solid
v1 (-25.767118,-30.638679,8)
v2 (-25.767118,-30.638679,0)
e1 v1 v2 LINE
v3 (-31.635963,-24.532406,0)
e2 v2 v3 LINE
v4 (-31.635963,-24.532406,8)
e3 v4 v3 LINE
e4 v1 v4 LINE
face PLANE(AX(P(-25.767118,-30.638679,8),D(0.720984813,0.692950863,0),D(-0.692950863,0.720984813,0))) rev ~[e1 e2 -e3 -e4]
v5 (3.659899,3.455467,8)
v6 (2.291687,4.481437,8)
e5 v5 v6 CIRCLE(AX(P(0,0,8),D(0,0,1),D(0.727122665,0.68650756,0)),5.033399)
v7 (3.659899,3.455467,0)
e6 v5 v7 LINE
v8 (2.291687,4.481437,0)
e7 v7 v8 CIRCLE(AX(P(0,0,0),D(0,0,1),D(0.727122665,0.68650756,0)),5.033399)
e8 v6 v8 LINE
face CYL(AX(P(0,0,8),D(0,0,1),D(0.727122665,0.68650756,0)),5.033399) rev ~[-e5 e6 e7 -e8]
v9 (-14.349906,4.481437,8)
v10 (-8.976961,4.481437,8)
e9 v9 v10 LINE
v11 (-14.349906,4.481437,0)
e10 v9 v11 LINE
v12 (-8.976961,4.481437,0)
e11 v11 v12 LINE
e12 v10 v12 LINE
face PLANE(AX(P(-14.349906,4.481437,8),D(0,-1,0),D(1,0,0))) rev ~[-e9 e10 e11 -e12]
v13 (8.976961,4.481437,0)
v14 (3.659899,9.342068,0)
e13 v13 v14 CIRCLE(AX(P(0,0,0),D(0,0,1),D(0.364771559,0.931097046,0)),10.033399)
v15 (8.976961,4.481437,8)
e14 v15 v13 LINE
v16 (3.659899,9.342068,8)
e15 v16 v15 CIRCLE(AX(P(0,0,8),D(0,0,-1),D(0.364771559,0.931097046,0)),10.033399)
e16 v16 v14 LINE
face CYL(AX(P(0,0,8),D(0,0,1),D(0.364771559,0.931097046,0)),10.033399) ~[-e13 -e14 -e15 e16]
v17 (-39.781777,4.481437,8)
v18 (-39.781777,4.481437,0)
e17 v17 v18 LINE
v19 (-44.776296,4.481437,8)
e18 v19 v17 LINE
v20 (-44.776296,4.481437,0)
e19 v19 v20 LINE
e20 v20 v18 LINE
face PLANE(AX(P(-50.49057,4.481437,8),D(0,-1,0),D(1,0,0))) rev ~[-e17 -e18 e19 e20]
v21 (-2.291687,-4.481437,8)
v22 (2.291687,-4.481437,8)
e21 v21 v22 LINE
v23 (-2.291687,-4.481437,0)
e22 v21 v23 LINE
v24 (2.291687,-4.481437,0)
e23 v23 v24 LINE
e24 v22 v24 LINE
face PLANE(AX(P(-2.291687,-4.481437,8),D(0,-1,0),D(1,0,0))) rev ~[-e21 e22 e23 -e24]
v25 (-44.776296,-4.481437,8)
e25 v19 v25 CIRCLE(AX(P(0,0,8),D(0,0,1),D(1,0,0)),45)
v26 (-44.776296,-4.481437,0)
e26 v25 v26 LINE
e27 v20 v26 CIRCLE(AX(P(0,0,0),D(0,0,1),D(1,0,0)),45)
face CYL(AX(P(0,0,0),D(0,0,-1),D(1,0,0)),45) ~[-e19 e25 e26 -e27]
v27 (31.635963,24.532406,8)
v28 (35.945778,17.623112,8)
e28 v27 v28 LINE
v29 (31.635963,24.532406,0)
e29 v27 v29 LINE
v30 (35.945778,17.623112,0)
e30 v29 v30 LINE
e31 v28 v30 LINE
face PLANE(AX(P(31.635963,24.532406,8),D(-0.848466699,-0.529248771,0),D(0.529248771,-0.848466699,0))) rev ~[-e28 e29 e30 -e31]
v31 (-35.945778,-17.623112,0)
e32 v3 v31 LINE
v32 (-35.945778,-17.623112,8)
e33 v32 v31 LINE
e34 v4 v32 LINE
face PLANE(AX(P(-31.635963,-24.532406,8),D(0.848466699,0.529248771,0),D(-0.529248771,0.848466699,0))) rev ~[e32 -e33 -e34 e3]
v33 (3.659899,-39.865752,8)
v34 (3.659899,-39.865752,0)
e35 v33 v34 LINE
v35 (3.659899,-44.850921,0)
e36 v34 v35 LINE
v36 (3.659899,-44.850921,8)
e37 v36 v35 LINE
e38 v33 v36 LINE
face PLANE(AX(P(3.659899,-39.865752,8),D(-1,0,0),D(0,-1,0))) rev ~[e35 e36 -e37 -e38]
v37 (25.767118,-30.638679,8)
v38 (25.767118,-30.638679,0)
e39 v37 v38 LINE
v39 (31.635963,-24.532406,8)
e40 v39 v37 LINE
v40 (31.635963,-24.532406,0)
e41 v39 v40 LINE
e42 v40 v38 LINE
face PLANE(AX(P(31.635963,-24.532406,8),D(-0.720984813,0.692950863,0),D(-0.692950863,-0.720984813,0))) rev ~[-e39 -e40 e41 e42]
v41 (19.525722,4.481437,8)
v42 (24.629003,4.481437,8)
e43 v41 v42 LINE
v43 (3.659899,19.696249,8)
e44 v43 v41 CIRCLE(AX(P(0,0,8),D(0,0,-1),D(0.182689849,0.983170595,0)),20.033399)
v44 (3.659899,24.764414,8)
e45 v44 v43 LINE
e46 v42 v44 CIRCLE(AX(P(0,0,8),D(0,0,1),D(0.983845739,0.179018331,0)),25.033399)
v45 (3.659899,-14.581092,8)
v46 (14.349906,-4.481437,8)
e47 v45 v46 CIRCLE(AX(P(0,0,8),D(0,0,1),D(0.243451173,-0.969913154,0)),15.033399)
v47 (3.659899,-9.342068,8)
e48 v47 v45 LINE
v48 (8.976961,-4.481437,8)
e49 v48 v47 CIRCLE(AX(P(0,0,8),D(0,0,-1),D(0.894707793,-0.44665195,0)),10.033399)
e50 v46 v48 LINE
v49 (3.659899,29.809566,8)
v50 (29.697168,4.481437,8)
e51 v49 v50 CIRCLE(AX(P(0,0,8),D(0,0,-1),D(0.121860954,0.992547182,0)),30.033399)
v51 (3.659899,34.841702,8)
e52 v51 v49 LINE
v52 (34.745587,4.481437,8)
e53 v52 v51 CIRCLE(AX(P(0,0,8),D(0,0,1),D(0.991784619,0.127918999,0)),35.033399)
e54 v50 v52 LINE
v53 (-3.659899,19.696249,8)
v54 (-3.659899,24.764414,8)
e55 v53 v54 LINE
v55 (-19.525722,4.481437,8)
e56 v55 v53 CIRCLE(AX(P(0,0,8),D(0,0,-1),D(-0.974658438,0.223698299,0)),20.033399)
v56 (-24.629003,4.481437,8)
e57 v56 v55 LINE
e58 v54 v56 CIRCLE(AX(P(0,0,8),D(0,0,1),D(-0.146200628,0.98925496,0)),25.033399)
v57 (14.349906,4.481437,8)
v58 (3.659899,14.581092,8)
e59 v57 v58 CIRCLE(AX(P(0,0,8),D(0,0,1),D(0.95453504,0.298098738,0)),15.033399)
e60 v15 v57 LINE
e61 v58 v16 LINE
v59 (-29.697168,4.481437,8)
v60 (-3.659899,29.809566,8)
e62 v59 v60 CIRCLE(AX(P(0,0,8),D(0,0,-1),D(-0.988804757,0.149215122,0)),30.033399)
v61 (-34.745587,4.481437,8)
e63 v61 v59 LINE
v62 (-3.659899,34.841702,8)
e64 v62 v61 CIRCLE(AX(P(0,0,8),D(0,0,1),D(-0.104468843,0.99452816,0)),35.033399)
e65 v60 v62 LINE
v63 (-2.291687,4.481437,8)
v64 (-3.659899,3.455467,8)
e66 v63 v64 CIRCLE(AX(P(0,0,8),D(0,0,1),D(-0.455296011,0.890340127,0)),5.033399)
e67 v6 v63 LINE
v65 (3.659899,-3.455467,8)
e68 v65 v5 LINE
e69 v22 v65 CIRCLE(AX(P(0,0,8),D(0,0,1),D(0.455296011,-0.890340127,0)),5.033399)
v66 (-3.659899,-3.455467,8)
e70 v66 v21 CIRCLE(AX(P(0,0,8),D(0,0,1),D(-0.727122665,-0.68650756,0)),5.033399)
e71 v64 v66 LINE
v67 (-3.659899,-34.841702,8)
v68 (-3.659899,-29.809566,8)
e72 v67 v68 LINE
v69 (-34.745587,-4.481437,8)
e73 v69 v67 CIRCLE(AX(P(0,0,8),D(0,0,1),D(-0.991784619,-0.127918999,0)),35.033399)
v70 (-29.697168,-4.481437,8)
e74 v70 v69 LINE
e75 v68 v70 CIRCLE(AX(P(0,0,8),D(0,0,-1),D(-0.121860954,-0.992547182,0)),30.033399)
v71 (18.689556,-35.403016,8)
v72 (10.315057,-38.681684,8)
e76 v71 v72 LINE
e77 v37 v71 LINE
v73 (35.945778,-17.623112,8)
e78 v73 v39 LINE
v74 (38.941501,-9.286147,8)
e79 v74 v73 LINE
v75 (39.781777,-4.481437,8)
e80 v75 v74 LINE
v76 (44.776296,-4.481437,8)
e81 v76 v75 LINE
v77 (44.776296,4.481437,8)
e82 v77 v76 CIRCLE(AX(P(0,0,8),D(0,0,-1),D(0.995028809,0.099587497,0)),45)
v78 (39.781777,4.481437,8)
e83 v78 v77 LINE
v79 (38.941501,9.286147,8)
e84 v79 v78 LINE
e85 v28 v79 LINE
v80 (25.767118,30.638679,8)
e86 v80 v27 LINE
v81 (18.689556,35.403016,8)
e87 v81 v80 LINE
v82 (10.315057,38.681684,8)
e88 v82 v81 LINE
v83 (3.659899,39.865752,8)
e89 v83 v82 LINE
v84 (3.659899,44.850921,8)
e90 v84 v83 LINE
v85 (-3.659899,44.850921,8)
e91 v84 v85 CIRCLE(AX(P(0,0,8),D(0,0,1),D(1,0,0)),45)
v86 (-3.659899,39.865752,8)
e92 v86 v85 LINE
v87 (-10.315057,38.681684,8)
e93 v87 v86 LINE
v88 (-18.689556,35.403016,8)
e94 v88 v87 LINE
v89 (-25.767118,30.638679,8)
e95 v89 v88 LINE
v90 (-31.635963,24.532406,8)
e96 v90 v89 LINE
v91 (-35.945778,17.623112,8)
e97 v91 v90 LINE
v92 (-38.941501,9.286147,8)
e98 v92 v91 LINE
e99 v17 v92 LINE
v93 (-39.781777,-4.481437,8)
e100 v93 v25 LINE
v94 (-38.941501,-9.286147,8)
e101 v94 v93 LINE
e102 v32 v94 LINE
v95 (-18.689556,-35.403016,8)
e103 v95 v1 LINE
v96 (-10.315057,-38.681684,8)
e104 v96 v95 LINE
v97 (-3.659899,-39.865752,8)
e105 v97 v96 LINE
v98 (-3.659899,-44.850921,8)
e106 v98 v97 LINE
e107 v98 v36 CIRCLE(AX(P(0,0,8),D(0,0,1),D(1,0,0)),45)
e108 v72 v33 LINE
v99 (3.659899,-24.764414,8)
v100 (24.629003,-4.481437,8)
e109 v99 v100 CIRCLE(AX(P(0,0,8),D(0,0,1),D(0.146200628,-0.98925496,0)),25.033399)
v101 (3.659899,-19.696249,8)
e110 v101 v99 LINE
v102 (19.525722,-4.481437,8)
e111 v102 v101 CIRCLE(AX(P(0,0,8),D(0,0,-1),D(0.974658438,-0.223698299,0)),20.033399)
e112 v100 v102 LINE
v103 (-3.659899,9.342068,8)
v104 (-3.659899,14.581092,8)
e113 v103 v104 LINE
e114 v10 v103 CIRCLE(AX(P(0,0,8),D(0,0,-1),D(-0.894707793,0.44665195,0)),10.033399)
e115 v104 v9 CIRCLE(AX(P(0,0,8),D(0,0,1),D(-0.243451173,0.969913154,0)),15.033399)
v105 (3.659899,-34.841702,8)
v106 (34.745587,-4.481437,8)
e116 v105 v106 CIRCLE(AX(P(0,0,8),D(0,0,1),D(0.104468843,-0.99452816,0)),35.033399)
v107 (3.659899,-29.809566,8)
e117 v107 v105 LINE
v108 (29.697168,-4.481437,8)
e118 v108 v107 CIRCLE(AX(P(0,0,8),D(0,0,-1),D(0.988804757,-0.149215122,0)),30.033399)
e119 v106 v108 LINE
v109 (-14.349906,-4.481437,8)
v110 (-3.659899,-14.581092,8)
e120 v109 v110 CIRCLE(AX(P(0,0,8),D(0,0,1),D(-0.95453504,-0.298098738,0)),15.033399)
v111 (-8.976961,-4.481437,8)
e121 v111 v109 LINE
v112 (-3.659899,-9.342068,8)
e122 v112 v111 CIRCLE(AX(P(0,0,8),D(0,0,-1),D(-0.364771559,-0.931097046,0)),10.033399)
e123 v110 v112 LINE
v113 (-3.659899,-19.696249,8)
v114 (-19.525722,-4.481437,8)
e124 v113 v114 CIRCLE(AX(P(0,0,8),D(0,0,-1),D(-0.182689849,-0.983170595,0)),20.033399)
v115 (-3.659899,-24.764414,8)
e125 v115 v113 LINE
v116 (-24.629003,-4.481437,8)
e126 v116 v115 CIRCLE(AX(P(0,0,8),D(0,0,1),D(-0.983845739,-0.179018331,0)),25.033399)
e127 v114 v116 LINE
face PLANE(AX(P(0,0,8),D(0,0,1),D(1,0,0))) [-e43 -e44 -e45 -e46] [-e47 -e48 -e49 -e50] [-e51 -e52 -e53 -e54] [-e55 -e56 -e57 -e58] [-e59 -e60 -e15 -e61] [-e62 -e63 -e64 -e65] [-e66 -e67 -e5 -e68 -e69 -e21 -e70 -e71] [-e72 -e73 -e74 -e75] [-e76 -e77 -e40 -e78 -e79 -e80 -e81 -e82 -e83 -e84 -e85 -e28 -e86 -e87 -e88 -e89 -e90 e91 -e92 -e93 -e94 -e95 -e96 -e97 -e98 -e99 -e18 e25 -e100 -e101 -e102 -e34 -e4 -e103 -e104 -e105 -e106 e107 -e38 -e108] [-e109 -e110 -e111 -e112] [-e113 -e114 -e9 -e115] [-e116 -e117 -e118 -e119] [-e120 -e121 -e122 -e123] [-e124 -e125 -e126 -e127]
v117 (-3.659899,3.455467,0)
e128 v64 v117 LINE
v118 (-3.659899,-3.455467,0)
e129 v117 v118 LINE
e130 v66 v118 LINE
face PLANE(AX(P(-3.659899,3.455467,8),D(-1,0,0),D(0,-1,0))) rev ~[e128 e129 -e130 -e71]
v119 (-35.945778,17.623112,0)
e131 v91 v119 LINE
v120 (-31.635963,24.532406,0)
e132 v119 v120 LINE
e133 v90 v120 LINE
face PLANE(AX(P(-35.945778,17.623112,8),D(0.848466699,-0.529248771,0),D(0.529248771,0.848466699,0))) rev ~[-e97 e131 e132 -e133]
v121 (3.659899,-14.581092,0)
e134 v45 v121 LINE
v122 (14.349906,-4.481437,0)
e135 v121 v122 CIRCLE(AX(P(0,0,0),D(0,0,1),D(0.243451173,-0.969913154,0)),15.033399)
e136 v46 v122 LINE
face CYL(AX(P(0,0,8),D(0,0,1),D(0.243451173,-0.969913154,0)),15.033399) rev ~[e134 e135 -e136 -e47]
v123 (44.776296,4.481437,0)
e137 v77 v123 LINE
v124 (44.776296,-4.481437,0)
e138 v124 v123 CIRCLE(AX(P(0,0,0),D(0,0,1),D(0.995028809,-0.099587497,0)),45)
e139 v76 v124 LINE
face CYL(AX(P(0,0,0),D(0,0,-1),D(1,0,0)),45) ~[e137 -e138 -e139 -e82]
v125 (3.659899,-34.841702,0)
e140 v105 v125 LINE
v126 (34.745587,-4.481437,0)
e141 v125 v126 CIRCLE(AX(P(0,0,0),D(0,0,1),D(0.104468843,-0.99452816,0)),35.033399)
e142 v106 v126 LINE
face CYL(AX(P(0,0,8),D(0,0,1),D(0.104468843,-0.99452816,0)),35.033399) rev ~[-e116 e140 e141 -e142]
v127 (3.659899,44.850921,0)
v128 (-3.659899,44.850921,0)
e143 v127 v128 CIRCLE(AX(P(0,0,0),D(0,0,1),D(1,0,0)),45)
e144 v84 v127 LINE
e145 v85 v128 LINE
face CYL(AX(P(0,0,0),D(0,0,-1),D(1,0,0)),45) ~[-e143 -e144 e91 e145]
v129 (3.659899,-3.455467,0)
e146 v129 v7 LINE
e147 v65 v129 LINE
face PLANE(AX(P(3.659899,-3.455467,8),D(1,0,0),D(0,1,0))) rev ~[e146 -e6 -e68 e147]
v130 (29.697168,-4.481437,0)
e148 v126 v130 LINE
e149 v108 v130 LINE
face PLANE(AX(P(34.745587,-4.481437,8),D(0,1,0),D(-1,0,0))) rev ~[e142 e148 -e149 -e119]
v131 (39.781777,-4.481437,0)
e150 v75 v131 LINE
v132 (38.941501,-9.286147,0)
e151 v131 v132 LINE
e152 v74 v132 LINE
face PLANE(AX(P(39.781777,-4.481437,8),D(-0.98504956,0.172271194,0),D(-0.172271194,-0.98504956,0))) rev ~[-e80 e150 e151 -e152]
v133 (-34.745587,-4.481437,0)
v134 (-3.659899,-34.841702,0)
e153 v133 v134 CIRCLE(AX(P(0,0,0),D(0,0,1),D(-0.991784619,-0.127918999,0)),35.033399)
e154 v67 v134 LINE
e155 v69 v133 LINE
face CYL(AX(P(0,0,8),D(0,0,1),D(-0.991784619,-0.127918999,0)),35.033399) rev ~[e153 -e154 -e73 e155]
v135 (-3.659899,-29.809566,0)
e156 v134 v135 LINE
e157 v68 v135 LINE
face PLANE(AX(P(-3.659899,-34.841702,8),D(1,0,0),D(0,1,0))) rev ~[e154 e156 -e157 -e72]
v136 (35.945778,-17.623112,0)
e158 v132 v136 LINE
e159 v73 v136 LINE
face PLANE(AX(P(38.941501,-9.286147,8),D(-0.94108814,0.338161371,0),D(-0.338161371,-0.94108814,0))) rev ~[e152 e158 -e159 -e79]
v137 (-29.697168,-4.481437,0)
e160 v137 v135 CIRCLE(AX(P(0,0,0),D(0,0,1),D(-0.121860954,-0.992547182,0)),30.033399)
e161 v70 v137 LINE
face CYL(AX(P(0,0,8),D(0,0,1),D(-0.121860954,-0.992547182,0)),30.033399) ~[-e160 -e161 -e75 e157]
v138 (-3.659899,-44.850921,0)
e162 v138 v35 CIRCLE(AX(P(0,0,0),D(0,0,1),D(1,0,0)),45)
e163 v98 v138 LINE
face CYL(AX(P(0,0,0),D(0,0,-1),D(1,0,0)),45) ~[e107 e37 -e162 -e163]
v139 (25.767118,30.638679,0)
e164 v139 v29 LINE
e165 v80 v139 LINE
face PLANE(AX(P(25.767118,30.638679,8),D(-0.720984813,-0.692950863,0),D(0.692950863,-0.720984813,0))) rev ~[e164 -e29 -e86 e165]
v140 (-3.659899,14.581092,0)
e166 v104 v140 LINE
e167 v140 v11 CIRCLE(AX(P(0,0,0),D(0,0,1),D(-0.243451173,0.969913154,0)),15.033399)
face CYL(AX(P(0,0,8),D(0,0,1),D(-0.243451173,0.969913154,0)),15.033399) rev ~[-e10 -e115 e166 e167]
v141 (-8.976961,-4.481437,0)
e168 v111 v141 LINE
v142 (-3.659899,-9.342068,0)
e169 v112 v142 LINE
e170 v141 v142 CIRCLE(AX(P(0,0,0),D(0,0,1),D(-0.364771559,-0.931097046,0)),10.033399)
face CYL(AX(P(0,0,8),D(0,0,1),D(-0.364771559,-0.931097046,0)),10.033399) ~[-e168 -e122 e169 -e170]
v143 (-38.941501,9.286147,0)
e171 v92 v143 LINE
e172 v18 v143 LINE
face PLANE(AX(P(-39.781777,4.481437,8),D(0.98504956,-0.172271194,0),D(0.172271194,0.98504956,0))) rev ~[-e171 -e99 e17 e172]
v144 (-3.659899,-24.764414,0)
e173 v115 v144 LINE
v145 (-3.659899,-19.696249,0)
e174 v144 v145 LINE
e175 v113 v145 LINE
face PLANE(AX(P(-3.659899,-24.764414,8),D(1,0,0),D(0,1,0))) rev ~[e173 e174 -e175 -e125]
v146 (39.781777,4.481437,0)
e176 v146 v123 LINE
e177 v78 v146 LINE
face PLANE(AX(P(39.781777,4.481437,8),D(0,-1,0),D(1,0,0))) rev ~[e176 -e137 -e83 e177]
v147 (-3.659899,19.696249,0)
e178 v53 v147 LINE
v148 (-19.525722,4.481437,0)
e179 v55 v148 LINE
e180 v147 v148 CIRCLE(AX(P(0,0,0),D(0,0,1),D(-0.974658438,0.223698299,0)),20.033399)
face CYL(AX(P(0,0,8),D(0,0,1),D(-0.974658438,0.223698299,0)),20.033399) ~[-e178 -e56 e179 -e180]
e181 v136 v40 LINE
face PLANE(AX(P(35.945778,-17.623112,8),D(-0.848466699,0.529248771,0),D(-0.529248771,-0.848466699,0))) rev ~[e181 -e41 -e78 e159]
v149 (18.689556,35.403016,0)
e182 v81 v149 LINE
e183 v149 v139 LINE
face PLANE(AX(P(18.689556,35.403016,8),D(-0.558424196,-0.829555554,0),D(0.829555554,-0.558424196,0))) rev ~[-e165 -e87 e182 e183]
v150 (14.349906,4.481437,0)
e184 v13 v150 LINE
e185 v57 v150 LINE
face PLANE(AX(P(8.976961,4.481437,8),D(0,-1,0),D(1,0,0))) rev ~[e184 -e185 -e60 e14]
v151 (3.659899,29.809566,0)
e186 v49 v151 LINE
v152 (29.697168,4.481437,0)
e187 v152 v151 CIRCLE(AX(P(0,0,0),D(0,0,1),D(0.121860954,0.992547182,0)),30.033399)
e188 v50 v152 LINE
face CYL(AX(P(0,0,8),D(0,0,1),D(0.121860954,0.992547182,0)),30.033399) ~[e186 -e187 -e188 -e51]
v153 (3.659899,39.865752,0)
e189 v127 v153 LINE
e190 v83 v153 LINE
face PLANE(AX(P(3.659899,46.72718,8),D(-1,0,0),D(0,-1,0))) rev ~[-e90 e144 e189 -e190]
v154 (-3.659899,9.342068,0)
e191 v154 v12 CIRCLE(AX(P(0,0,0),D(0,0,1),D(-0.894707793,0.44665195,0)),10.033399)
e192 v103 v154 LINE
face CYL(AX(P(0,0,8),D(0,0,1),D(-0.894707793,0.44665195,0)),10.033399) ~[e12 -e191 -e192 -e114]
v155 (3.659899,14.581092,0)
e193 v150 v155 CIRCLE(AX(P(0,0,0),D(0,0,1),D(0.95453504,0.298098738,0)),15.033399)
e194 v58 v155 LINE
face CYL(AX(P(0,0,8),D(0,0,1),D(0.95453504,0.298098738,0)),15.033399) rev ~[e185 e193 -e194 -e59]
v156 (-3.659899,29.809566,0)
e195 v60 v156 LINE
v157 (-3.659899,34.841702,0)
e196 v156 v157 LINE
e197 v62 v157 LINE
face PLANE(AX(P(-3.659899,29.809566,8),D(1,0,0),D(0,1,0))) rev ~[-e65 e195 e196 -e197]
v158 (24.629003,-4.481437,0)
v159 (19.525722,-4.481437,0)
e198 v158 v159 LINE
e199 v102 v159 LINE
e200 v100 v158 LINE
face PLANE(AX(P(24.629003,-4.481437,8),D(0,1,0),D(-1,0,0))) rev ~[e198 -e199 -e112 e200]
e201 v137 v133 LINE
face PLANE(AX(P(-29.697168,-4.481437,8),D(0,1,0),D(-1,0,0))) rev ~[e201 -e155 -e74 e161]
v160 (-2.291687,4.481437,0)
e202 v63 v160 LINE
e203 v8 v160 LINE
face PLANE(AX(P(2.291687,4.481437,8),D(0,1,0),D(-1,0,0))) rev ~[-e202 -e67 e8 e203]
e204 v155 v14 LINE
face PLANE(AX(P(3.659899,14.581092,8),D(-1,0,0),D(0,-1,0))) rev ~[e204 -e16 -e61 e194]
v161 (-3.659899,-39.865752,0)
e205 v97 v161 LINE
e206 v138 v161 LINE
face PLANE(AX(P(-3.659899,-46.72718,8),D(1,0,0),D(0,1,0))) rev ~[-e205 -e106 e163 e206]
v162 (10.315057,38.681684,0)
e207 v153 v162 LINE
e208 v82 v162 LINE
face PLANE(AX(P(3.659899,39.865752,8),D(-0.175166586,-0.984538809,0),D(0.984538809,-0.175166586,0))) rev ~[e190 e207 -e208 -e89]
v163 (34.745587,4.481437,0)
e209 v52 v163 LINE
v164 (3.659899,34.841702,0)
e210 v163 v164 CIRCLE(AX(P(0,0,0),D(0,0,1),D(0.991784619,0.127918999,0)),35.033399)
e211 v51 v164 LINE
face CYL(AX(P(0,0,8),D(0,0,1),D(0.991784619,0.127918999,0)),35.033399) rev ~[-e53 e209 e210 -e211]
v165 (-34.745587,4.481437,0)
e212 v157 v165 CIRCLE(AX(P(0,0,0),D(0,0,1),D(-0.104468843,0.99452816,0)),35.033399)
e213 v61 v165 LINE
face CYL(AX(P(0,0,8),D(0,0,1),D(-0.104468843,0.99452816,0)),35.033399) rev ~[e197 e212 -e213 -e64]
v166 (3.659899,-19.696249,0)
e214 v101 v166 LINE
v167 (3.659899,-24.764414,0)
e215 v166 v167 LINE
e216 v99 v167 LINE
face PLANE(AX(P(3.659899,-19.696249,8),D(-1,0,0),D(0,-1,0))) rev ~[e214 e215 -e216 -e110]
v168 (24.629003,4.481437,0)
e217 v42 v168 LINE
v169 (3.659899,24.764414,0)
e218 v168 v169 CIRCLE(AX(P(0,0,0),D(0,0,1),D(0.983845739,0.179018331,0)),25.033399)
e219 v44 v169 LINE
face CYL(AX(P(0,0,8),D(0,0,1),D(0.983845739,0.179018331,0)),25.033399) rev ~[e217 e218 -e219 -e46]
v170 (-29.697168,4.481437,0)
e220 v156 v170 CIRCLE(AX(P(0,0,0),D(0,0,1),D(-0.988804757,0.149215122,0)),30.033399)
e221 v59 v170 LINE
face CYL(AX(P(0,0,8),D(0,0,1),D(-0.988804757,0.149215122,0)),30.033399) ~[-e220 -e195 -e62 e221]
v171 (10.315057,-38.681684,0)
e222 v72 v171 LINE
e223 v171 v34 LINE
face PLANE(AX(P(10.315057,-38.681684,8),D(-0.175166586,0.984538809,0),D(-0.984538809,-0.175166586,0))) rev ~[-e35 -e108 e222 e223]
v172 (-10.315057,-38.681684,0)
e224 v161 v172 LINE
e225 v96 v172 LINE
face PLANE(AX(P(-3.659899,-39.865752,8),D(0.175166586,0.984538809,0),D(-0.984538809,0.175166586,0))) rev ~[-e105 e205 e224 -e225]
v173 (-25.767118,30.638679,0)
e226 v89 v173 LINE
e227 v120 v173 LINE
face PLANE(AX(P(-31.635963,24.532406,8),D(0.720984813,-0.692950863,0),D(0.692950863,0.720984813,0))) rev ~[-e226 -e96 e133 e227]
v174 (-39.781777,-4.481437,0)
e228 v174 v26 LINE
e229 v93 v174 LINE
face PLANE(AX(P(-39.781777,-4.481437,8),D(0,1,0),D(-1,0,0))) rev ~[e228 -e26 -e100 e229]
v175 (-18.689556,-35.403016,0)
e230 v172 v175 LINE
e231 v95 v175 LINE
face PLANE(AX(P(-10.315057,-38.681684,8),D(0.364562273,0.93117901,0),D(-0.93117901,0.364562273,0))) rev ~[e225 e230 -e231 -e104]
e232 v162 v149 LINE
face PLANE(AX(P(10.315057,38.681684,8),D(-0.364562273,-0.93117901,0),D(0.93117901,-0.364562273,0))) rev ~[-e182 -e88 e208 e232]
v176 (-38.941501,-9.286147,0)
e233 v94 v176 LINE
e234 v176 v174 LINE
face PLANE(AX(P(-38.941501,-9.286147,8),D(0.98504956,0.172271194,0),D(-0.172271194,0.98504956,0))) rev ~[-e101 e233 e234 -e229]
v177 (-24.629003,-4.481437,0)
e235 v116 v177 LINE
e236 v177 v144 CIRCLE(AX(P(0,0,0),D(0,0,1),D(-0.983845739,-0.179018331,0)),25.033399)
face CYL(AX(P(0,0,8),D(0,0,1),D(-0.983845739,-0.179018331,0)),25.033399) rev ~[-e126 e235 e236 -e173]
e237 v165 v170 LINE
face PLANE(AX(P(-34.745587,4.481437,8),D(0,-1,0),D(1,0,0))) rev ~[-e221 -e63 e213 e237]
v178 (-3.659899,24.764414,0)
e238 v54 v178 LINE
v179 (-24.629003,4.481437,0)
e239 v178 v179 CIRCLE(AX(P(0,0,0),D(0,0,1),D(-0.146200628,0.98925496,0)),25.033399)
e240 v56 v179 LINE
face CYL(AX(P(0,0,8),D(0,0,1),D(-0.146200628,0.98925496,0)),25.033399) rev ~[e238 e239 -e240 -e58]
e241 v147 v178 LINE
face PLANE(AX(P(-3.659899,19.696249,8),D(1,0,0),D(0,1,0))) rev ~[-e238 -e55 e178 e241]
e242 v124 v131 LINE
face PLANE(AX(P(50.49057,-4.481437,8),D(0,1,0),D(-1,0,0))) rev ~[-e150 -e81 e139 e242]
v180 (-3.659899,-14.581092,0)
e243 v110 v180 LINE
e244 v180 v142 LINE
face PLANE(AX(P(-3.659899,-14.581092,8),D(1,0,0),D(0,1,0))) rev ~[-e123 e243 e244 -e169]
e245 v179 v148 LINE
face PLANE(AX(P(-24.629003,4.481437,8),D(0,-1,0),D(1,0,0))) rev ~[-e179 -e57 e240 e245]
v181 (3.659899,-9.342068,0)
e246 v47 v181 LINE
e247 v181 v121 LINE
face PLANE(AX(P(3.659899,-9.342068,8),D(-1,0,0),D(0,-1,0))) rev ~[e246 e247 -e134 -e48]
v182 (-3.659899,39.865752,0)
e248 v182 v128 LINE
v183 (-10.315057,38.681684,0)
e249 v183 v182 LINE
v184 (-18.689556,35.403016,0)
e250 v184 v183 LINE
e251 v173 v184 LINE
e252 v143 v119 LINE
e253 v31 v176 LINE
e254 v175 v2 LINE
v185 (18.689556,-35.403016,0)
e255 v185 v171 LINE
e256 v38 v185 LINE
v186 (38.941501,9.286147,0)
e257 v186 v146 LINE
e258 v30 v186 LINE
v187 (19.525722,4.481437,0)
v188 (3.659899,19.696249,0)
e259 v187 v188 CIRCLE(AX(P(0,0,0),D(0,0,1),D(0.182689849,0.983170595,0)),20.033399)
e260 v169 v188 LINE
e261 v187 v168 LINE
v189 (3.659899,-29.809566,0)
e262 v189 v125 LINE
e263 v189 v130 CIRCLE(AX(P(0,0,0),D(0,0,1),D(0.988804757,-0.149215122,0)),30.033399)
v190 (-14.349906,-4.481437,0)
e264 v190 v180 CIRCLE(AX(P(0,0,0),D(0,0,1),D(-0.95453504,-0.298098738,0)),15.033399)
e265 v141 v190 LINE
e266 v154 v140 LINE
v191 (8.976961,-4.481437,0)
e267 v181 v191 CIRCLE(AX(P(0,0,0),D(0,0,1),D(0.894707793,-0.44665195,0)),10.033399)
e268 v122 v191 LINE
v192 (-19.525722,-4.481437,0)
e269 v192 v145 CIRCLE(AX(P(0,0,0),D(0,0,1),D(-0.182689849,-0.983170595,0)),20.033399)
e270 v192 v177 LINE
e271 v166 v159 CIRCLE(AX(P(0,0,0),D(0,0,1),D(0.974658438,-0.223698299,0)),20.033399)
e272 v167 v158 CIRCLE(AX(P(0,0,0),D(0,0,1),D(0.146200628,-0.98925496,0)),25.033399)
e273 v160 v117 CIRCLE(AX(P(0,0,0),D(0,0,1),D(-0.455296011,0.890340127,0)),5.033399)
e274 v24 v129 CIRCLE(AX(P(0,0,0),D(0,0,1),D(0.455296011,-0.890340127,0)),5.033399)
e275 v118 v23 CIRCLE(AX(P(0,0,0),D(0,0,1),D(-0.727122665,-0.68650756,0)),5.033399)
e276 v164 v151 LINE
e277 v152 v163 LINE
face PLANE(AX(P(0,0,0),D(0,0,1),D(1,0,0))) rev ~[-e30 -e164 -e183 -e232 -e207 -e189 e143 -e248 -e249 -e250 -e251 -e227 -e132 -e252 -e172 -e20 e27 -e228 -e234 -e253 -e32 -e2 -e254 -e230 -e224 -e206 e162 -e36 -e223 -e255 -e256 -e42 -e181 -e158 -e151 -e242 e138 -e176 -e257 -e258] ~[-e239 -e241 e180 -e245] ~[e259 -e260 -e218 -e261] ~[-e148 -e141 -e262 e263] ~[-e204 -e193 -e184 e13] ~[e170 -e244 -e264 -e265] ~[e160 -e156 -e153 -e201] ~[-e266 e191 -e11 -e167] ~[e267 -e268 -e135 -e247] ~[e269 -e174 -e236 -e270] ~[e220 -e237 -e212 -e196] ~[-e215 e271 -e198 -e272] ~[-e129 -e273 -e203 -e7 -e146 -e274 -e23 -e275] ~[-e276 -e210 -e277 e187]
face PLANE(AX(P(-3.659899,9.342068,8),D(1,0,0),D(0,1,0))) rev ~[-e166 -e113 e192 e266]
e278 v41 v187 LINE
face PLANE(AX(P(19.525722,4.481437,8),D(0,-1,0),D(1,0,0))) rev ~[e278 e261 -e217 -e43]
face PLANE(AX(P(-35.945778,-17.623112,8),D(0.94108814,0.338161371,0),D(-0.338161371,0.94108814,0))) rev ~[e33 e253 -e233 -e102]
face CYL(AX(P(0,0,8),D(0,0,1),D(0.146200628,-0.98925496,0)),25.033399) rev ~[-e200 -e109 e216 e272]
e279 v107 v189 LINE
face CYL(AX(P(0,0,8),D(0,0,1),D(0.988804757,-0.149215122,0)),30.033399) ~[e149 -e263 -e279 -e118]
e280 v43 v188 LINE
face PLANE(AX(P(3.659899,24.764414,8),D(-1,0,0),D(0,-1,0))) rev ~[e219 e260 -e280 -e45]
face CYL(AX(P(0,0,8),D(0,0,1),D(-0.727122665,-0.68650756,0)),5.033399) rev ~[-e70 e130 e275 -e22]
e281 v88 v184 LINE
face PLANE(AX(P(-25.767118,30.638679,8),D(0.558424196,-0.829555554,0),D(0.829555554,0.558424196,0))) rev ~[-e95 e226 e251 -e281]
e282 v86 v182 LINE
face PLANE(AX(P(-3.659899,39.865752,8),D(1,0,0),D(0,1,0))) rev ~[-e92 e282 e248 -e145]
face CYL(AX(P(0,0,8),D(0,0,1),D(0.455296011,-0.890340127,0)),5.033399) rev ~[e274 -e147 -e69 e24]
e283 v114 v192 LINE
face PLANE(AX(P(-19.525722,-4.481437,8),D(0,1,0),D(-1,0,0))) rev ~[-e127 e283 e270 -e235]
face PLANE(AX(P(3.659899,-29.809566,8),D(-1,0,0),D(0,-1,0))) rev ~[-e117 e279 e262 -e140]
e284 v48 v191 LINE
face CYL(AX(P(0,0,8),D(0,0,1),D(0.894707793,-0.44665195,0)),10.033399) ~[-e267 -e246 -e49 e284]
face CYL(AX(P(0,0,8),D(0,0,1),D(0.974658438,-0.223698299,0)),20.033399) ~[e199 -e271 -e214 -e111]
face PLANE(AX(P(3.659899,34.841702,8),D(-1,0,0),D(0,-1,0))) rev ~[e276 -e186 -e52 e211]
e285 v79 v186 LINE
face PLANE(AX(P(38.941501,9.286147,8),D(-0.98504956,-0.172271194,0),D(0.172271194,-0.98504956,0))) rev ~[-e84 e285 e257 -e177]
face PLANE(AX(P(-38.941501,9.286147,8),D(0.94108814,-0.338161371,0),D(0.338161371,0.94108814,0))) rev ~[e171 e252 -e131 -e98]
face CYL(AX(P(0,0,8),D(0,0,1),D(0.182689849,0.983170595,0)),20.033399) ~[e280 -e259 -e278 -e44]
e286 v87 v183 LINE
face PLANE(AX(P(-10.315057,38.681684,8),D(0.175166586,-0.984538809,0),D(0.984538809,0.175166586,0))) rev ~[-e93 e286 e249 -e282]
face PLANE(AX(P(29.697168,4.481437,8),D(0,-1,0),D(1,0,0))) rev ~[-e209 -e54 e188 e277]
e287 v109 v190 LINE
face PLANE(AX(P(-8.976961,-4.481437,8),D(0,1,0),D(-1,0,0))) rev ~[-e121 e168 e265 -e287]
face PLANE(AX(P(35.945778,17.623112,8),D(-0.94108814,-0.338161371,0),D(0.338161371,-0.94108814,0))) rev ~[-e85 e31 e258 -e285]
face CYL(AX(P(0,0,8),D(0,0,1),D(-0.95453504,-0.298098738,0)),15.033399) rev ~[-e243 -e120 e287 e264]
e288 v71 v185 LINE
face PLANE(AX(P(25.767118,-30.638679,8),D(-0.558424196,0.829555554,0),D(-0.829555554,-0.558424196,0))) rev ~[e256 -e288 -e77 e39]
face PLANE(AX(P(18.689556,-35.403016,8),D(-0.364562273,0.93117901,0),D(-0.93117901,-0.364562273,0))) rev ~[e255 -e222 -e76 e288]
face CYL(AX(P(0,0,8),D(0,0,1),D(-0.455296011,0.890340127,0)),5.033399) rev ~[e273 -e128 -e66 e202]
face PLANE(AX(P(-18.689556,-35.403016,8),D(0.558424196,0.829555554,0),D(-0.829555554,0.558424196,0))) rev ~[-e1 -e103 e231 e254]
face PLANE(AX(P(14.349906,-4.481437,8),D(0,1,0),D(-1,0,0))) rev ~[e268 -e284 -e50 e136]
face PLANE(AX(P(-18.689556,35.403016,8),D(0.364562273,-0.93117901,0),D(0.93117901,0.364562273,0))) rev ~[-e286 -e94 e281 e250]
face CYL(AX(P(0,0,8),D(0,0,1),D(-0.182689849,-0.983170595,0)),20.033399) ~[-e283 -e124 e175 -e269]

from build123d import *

# Parameters (mm, degrees)
F0_R     = 45
F1_DEPTH = 8
F3_DEPTH = 25
F5_DEPTH = 25


with BuildPart() as f1:
    # F0 (on Top) → F1 (new body)
    with BuildSketch(Plane.XY):
        Circle(F0_R)
    extrude(amount=F1_DEPTH)

    # F2 (on face) → F3 (cut)
    with BuildSketch(Plane.XY.offset(8)):
        with BuildLine():
            ThreePointArc((-44.7762963998, 4.4814373498), (-31.5268148945, 32.1101221207), (-3.659898693, 44.8509213011))
            Line((-3.659898693, 44.8509213011), (-3.659898693, 46.727180481))
            Line((-3.659898693, 46.727180481), (-14.4028495997, 46.727180481))
            Line((-14.4028495997, 46.727180481), (-30.4222777486, 39.8657522048))
            Line((-30.4222777486, 39.8657522048), (-45.7375533879, 26.1307712644))
            Line((-45.7375533879, 26.1307712644), (-50.4905698847, 4.4814373498))
            Line((-50.4905698847, 4.4814373498), (-44.7762963998, 4.4814373498))
        make_face()
        with BuildLine():
            Line((-3.659898693, 39.8657522048), (-3.659898693, 44.8509213011))
            ThreePointArc((-3.659898693, 44.8509213011), (-31.5268148945, 32.1101221207), (-44.7762963998, 4.4814373498))
            Line((-44.7762963998, 4.4814373498), (-39.7817769409, 4.4814373498))
            Line((-39.7817769409, 4.4814373498), (-38.9415013432, 9.2861472328))
            Line((-38.9415013432, 9.2861472328), (-35.9457781326, 17.6231124305))
            Line((-35.9457781326, 17.6231124305), (-31.6359626456, 24.5324056053))
            Line((-31.6359626456, 24.5324056053), (-25.7671181964, 30.6386794289))
            Line((-25.7671181964, 30.6386794289), (-18.6895557962, 35.4030162759))
            Line((-18.6895557962, 35.4030162759), (-10.3150569916, 38.6816837348))
            Line((-10.3150569916, 38.6816837348), (-3.659898693, 39.8657522048))
        make_face()
        with BuildLine():
            ThreePointArc((44.7762963998, 4.4814373498), (31.5268148945, 32.1101221207), (3.659898693, 44.8509213011))
            Line((3.659898693, 44.8509213011), (3.659898693, 39.8657522048))
            Line((3.659898693, 39.8657522048), (10.3150569916, 38.6816837348))
            Line((10.3150569916, 38.6816837348), (18.6895557962, 35.4030162759))
            Line((18.6895557962, 35.4030162759), (25.7671181964, 30.6386794289))
            Line((25.7671181964, 30.6386794289), (31.6359626456, 24.5324056053))
            Line((31.6359626456, 24.5324056053), (35.9457781326, 17.6231124305))
            Line((35.9457781326, 17.6231124305), (38.9415013432, 9.2861472328))
            Line((38.9415013432, 9.2861472328), (39.7817769409, 4.4814373498))
            Line((39.7817769409, 4.4814373498), (44.7762963998, 4.4814373498))
        make_face()
        with BuildLine():
            Line((3.659898693, 46.727180481), (3.659898693, 44.8509213011))
            ThreePointArc((3.659898693, 44.8509213011), (31.5268148945, 32.1101221207), (44.7762963998, 4.4814373498))
            Line((44.7762963998, 4.4814373498), (50.4905698847, 4.4814373498))
            Line((50.4905698847, 4.4814373498), (45.7375533879, 26.1307712644))
            Line((45.7375533879, 26.1307712644), (30.4222777486, 39.8657522048))
            Line((30.4222777486, 39.8657522048), (14.4028495997, 46.727180481))
            Line((14.4028495997, 46.727180481), (3.659898693, 46.727180481))
        make_face()
        with BuildLine():
            ThreePointArc((3.659898693, -44.8509213011), (31.5268148945, -32.1101221207), (44.7762963998, -4.4814373498))
            Line((44.7762963998, -4.4814373498), (39.7817769409, -4.4814373498))
            Line((39.7817769409, -4.4814373498), (38.9415013432, -9.2861472328))
            Line((38.9415013432, -9.2861472328), (35.9457781326, -17.6231124305))
            Line((35.9457781326, -17.6231124305), (31.6359626456, -24.5324056053))
            Line((31.6359626456, -24.5324056053), (25.7671181964, -30.6386794289))
            Line((25.7671181964, -30.6386794289), (18.6895557962, -35.4030162759))
            Line((18.6895557962, -35.4030162759), (10.3150569916, -38.6816837348))
            Line((10.3150569916, -38.6816837348), (3.659898693, -39.8657522048))
            Line((3.659898693, -39.8657522048), (3.659898693, -44.8509213011))
        make_face()
        with BuildLine():
            Line((50.4905698847, -4.4814373498), (44.7762963998, -4.4814373498))
            ThreePointArc((44.7762963998, -4.4814373498), (31.5268148945, -32.1101221207), (3.659898693, -44.8509213011))
            Line((3.659898693, -44.8509213011), (3.659898693, -46.727180481))
            Line((3.659898693, -46.727180481), (14.4028495997, -46.727180481))
            Line((14.4028495997, -46.727180481), (30.4222777486, -39.8657522048))
            Line((30.4222777486, -39.8657522048), (45.7375533879, -26.1307712644))
            Line((45.7375533879, -26.1307712644), (50.4905698847, -4.4814373498))
        make_face()
        with BuildLine():
            Line((-39.7817769409, -4.4814373498), (-44.7762963998, -4.4814373498))
            ThreePointArc((-44.7762963998, -4.4814373498), (-31.5268148945, -32.1101221207), (-3.659898693, -44.8509213011))
            Line((-3.659898693, -44.8509213011), (-3.659898693, -39.8657522048))
            Line((-3.659898693, -39.8657522048), (-10.3150569916, -38.6816837348))
            Line((-10.3150569916, -38.6816837348), (-18.6895557962, -35.4030162759))
            Line((-18.6895557962, -35.4030162759), (-25.7671181964, -30.6386794289))
            Line((-25.7671181964, -30.6386794289), (-31.6359626456, -24.5324056053))
            Line((-31.6359626456, -24.5324056053), (-35.9457781326, -17.6231124305))
            Line((-35.9457781326, -17.6231124305), (-38.9415013432, -9.2861472328))
            Line((-38.9415013432, -9.2861472328), (-39.7817769409, -4.4814373498))
        make_face()
        with BuildLine():
            ThreePointArc((-3.659898693, -44.8509213011), (-31.5268148945, -32.1101221207), (-44.7762963998, -4.4814373498))
            Line((-44.7762963998, -4.4814373498), (-50.4905698847, -4.4814373498))
            Line((-50.4905698847, -4.4814373498), (-45.7375533879, -26.1307712644))
            Line((-45.7375533879, -26.1307712644), (-30.4222777486, -39.8657522048))
            Line((-30.4222777486, -39.8657522048), (-14.4028495997, -46.727180481))
            Line((-14.4028495997, -46.727180481), (-3.659898693, -46.727180481))
            Line((-3.659898693, -46.727180481), (-3.659898693, -44.8509213011))
        make_face()
    extrude(amount=-F3_DEPTH, mode=Mode.SUBTRACT)

    # F4 (on face) → F5 (cut)
    with BuildSketch(Plane.XY.offset(8)):
        with BuildLine():
            ThreePointArc((-34.7455865377, -4.4814373498), (-24.4781891298, -25.0630668813), (-3.659898693, -34.841702113))
            Line((-3.659898693, -34.841702113), (-3.659898693, -29.8095658037))
            ThreePointArc((-3.659898693, -29.8095658037), (-20.9416331367, -21.5279602707), (-29.6971680658, -4.4814373498))
            Line((-29.6971680658, -4.4814373498), (-34.7455865377, -4.4814373498))
        make_face()
        with BuildLine():
            ThreePointArc((-24.6290031955, -4.4814373498), (-17.4044615557, -17.993215307), (-3.659898693, -24.7644144022))
            Line((-3.659898693, -24.7644144022), (-3.659898693, -19.6962490835))
            ThreePointArc((-3.659898693, -19.6962490835), (-13.8659969572, -14.4592950999), (-19.5257216431, -4.4814373498))
            Line((-19.5257216431, -4.4814373498), (-24.6290031955, -4.4814373498))
        make_face()
        with BuildLine():
            ThreePointArc((-14.3499063746, -4.4814373498), (-10.3241960537, -10.9276744793), (-3.659898693, -14.5810917025))
            Line((-3.659898693, -14.5810917025), (-3.659898693, -9.342068428))
            ThreePointArc((-3.659898693, -9.342068428), (-6.769710949, -7.4054111718), (-8.9769605233, -4.4814373498))
            Line((-8.9769605233, -4.4814373498), (-14.3499063746, -4.4814373498))
        make_face()
        with BuildLine():
            Line((3.659898693, -3.4554666532), (3.659898693, 3.4554666532))
            ThreePointArc((3.659898693, 3.4554666532), (3.0196847302, 4.0269855183), (2.2916866091, 4.4814373498))
            Line((2.2916866091, 4.4814373498), (-2.2916866091, 4.4814373498))
            ThreePointArc((-2.2916866091, 4.4814373498), (-3.0196847302, 4.0269855183), (-3.659898693, 3.4554666532))
            Line((-3.659898693, 3.4554666532), (-3.659898693, -3.4554666532))
            ThreePointArc((-3.659898693, -3.4554666532), (-3.0196847302, -4.0269855183), (-2.2916866091, -4.4814373498))
            Line((-2.2916866091, -4.4814373498), (2.2916866091, -4.4814373498))
            ThreePointArc((2.2916866091, -4.4814373498), (3.0196847302, -4.0269855183), (3.659898693, -3.4554666532))
        make_face()
        with BuildLine():
            ThreePointArc((3.659898693, -14.5810917025), (10.3241960537, -10.9276744793), (14.3499063746, -4.4814373498))
            Line((14.3499063746, -4.4814373498), (8.9769605233, -4.4814373498))
            ThreePointArc((8.9769605233, -4.4814373498), (6.769710949, -7.4054111718), (3.659898693, -9.342068428))
            Line((3.659898693, -9.342068428), (3.659898693, -14.5810917025))
        make_face()
        with BuildLine():
            ThreePointArc((3.659898693, -24.7644144022), (17.4044615557, -17.993215307), (24.6290031955, -4.4814373498))
            Line((24.6290031955, -4.4814373498), (19.5257216431, -4.4814373498))
            ThreePointArc((19.5257216431, -4.4814373498), (13.8659969572, -14.4592950999), (3.659898693, -19.6962490835))
            Line((3.659898693, -19.6962490835), (3.659898693, -24.7644144022))
        make_face()
        with BuildLine():
            ThreePointArc((3.659898693, -34.841702113), (24.4781891298, -25.0630668813), (34.7455865377, -4.4814373498))
            Line((34.7455865377, -4.4814373498), (29.6971680658, -4.4814373498))
            ThreePointArc((29.6971680658, -4.4814373498), (20.9416331367, -21.5279602707), (3.659898693, -29.8095658037))
            Line((3.659898693, -29.8095658037), (3.659898693, -34.841702113))
        make_face()
        with BuildLine():
            Line((29.6971680658, 4.4814373498), (34.7455865377, 4.4814373498))
            ThreePointArc((34.7455865377, 4.4814373498), (24.4781891298, 25.0630668813), (3.659898693, 34.841702113))
            Line((3.659898693, 34.841702113), (3.659898693, 29.8095658037))
            ThreePointArc((3.659898693, 29.8095658037), (20.9416331367, 21.5279602707), (29.6971680658, 4.4814373498))
        make_face()
        with BuildLine():
            Line((19.5257216431, 4.4814373498), (24.6290031955, 4.4814373498))
            ThreePointArc((24.6290031955, 4.4814373498), (17.4044615557, 17.993215307), (3.659898693, 24.7644144022))
            Line((3.659898693, 24.7644144022), (3.659898693, 19.6962490835))
            ThreePointArc((3.659898693, 19.6962490835), (13.8659969572, 14.4592950999), (19.5257216431, 4.4814373498))
        make_face()
        with BuildLine():
            Line((8.9769605233, 4.4814373498), (14.3499063746, 4.4814373498))
            ThreePointArc((14.3499063746, 4.4814373498), (10.3241960537, 10.9276744793), (3.659898693, 14.5810917025))
            Line((3.659898693, 14.5810917025), (3.659898693, 9.342068428))
            ThreePointArc((3.659898693, 9.342068428), (6.769710949, 7.4054111718), (8.9769605233, 4.4814373498))
        make_face()
        with BuildLine():
            Line((-3.659898693, 9.342068428), (-3.659898693, 14.5810917025))
            ThreePointArc((-3.659898693, 14.5810917025), (-10.3241960537, 10.9276744793), (-14.3499063746, 4.4814373498))
            Line((-14.3499063746, 4.4814373498), (-8.9769605233, 4.4814373498))
            ThreePointArc((-8.9769605233, 4.4814373498), (-6.769710949, 7.4054111718), (-3.659898693, 9.342068428))
        make_face()
        with BuildLine():
            Line((-3.659898693, 19.6962490835), (-3.659898693, 24.7644144022))
            ThreePointArc((-3.659898693, 24.7644144022), (-17.4044615557, 17.993215307), (-24.6290031955, 4.4814373498))
            Line((-24.6290031955, 4.4814373498), (-19.5257216431, 4.4814373498))
            ThreePointArc((-19.5257216431, 4.4814373498), (-13.8659969572, 14.4592950999), (-3.659898693, 19.6962490835))
        make_face()
        with BuildLine():
            Line((-3.659898693, 29.8095658037), (-3.659898693, 34.841702113))
            ThreePointArc((-3.659898693, 34.841702113), (-24.4781891298, 25.0630668813), (-34.7455865377, 4.4814373498))
            Line((-34.7455865377, 4.4814373498), (-29.6971680658, 4.4814373498))
            ThreePointArc((-29.6971680658, 4.4814373498), (-20.9416331367, 21.5279602707), (-3.659898693, 29.8095658037))
        make_face()
    extrude(amount=-F5_DEPTH, mode=Mode.SUBTRACT)


solid = f1.part
